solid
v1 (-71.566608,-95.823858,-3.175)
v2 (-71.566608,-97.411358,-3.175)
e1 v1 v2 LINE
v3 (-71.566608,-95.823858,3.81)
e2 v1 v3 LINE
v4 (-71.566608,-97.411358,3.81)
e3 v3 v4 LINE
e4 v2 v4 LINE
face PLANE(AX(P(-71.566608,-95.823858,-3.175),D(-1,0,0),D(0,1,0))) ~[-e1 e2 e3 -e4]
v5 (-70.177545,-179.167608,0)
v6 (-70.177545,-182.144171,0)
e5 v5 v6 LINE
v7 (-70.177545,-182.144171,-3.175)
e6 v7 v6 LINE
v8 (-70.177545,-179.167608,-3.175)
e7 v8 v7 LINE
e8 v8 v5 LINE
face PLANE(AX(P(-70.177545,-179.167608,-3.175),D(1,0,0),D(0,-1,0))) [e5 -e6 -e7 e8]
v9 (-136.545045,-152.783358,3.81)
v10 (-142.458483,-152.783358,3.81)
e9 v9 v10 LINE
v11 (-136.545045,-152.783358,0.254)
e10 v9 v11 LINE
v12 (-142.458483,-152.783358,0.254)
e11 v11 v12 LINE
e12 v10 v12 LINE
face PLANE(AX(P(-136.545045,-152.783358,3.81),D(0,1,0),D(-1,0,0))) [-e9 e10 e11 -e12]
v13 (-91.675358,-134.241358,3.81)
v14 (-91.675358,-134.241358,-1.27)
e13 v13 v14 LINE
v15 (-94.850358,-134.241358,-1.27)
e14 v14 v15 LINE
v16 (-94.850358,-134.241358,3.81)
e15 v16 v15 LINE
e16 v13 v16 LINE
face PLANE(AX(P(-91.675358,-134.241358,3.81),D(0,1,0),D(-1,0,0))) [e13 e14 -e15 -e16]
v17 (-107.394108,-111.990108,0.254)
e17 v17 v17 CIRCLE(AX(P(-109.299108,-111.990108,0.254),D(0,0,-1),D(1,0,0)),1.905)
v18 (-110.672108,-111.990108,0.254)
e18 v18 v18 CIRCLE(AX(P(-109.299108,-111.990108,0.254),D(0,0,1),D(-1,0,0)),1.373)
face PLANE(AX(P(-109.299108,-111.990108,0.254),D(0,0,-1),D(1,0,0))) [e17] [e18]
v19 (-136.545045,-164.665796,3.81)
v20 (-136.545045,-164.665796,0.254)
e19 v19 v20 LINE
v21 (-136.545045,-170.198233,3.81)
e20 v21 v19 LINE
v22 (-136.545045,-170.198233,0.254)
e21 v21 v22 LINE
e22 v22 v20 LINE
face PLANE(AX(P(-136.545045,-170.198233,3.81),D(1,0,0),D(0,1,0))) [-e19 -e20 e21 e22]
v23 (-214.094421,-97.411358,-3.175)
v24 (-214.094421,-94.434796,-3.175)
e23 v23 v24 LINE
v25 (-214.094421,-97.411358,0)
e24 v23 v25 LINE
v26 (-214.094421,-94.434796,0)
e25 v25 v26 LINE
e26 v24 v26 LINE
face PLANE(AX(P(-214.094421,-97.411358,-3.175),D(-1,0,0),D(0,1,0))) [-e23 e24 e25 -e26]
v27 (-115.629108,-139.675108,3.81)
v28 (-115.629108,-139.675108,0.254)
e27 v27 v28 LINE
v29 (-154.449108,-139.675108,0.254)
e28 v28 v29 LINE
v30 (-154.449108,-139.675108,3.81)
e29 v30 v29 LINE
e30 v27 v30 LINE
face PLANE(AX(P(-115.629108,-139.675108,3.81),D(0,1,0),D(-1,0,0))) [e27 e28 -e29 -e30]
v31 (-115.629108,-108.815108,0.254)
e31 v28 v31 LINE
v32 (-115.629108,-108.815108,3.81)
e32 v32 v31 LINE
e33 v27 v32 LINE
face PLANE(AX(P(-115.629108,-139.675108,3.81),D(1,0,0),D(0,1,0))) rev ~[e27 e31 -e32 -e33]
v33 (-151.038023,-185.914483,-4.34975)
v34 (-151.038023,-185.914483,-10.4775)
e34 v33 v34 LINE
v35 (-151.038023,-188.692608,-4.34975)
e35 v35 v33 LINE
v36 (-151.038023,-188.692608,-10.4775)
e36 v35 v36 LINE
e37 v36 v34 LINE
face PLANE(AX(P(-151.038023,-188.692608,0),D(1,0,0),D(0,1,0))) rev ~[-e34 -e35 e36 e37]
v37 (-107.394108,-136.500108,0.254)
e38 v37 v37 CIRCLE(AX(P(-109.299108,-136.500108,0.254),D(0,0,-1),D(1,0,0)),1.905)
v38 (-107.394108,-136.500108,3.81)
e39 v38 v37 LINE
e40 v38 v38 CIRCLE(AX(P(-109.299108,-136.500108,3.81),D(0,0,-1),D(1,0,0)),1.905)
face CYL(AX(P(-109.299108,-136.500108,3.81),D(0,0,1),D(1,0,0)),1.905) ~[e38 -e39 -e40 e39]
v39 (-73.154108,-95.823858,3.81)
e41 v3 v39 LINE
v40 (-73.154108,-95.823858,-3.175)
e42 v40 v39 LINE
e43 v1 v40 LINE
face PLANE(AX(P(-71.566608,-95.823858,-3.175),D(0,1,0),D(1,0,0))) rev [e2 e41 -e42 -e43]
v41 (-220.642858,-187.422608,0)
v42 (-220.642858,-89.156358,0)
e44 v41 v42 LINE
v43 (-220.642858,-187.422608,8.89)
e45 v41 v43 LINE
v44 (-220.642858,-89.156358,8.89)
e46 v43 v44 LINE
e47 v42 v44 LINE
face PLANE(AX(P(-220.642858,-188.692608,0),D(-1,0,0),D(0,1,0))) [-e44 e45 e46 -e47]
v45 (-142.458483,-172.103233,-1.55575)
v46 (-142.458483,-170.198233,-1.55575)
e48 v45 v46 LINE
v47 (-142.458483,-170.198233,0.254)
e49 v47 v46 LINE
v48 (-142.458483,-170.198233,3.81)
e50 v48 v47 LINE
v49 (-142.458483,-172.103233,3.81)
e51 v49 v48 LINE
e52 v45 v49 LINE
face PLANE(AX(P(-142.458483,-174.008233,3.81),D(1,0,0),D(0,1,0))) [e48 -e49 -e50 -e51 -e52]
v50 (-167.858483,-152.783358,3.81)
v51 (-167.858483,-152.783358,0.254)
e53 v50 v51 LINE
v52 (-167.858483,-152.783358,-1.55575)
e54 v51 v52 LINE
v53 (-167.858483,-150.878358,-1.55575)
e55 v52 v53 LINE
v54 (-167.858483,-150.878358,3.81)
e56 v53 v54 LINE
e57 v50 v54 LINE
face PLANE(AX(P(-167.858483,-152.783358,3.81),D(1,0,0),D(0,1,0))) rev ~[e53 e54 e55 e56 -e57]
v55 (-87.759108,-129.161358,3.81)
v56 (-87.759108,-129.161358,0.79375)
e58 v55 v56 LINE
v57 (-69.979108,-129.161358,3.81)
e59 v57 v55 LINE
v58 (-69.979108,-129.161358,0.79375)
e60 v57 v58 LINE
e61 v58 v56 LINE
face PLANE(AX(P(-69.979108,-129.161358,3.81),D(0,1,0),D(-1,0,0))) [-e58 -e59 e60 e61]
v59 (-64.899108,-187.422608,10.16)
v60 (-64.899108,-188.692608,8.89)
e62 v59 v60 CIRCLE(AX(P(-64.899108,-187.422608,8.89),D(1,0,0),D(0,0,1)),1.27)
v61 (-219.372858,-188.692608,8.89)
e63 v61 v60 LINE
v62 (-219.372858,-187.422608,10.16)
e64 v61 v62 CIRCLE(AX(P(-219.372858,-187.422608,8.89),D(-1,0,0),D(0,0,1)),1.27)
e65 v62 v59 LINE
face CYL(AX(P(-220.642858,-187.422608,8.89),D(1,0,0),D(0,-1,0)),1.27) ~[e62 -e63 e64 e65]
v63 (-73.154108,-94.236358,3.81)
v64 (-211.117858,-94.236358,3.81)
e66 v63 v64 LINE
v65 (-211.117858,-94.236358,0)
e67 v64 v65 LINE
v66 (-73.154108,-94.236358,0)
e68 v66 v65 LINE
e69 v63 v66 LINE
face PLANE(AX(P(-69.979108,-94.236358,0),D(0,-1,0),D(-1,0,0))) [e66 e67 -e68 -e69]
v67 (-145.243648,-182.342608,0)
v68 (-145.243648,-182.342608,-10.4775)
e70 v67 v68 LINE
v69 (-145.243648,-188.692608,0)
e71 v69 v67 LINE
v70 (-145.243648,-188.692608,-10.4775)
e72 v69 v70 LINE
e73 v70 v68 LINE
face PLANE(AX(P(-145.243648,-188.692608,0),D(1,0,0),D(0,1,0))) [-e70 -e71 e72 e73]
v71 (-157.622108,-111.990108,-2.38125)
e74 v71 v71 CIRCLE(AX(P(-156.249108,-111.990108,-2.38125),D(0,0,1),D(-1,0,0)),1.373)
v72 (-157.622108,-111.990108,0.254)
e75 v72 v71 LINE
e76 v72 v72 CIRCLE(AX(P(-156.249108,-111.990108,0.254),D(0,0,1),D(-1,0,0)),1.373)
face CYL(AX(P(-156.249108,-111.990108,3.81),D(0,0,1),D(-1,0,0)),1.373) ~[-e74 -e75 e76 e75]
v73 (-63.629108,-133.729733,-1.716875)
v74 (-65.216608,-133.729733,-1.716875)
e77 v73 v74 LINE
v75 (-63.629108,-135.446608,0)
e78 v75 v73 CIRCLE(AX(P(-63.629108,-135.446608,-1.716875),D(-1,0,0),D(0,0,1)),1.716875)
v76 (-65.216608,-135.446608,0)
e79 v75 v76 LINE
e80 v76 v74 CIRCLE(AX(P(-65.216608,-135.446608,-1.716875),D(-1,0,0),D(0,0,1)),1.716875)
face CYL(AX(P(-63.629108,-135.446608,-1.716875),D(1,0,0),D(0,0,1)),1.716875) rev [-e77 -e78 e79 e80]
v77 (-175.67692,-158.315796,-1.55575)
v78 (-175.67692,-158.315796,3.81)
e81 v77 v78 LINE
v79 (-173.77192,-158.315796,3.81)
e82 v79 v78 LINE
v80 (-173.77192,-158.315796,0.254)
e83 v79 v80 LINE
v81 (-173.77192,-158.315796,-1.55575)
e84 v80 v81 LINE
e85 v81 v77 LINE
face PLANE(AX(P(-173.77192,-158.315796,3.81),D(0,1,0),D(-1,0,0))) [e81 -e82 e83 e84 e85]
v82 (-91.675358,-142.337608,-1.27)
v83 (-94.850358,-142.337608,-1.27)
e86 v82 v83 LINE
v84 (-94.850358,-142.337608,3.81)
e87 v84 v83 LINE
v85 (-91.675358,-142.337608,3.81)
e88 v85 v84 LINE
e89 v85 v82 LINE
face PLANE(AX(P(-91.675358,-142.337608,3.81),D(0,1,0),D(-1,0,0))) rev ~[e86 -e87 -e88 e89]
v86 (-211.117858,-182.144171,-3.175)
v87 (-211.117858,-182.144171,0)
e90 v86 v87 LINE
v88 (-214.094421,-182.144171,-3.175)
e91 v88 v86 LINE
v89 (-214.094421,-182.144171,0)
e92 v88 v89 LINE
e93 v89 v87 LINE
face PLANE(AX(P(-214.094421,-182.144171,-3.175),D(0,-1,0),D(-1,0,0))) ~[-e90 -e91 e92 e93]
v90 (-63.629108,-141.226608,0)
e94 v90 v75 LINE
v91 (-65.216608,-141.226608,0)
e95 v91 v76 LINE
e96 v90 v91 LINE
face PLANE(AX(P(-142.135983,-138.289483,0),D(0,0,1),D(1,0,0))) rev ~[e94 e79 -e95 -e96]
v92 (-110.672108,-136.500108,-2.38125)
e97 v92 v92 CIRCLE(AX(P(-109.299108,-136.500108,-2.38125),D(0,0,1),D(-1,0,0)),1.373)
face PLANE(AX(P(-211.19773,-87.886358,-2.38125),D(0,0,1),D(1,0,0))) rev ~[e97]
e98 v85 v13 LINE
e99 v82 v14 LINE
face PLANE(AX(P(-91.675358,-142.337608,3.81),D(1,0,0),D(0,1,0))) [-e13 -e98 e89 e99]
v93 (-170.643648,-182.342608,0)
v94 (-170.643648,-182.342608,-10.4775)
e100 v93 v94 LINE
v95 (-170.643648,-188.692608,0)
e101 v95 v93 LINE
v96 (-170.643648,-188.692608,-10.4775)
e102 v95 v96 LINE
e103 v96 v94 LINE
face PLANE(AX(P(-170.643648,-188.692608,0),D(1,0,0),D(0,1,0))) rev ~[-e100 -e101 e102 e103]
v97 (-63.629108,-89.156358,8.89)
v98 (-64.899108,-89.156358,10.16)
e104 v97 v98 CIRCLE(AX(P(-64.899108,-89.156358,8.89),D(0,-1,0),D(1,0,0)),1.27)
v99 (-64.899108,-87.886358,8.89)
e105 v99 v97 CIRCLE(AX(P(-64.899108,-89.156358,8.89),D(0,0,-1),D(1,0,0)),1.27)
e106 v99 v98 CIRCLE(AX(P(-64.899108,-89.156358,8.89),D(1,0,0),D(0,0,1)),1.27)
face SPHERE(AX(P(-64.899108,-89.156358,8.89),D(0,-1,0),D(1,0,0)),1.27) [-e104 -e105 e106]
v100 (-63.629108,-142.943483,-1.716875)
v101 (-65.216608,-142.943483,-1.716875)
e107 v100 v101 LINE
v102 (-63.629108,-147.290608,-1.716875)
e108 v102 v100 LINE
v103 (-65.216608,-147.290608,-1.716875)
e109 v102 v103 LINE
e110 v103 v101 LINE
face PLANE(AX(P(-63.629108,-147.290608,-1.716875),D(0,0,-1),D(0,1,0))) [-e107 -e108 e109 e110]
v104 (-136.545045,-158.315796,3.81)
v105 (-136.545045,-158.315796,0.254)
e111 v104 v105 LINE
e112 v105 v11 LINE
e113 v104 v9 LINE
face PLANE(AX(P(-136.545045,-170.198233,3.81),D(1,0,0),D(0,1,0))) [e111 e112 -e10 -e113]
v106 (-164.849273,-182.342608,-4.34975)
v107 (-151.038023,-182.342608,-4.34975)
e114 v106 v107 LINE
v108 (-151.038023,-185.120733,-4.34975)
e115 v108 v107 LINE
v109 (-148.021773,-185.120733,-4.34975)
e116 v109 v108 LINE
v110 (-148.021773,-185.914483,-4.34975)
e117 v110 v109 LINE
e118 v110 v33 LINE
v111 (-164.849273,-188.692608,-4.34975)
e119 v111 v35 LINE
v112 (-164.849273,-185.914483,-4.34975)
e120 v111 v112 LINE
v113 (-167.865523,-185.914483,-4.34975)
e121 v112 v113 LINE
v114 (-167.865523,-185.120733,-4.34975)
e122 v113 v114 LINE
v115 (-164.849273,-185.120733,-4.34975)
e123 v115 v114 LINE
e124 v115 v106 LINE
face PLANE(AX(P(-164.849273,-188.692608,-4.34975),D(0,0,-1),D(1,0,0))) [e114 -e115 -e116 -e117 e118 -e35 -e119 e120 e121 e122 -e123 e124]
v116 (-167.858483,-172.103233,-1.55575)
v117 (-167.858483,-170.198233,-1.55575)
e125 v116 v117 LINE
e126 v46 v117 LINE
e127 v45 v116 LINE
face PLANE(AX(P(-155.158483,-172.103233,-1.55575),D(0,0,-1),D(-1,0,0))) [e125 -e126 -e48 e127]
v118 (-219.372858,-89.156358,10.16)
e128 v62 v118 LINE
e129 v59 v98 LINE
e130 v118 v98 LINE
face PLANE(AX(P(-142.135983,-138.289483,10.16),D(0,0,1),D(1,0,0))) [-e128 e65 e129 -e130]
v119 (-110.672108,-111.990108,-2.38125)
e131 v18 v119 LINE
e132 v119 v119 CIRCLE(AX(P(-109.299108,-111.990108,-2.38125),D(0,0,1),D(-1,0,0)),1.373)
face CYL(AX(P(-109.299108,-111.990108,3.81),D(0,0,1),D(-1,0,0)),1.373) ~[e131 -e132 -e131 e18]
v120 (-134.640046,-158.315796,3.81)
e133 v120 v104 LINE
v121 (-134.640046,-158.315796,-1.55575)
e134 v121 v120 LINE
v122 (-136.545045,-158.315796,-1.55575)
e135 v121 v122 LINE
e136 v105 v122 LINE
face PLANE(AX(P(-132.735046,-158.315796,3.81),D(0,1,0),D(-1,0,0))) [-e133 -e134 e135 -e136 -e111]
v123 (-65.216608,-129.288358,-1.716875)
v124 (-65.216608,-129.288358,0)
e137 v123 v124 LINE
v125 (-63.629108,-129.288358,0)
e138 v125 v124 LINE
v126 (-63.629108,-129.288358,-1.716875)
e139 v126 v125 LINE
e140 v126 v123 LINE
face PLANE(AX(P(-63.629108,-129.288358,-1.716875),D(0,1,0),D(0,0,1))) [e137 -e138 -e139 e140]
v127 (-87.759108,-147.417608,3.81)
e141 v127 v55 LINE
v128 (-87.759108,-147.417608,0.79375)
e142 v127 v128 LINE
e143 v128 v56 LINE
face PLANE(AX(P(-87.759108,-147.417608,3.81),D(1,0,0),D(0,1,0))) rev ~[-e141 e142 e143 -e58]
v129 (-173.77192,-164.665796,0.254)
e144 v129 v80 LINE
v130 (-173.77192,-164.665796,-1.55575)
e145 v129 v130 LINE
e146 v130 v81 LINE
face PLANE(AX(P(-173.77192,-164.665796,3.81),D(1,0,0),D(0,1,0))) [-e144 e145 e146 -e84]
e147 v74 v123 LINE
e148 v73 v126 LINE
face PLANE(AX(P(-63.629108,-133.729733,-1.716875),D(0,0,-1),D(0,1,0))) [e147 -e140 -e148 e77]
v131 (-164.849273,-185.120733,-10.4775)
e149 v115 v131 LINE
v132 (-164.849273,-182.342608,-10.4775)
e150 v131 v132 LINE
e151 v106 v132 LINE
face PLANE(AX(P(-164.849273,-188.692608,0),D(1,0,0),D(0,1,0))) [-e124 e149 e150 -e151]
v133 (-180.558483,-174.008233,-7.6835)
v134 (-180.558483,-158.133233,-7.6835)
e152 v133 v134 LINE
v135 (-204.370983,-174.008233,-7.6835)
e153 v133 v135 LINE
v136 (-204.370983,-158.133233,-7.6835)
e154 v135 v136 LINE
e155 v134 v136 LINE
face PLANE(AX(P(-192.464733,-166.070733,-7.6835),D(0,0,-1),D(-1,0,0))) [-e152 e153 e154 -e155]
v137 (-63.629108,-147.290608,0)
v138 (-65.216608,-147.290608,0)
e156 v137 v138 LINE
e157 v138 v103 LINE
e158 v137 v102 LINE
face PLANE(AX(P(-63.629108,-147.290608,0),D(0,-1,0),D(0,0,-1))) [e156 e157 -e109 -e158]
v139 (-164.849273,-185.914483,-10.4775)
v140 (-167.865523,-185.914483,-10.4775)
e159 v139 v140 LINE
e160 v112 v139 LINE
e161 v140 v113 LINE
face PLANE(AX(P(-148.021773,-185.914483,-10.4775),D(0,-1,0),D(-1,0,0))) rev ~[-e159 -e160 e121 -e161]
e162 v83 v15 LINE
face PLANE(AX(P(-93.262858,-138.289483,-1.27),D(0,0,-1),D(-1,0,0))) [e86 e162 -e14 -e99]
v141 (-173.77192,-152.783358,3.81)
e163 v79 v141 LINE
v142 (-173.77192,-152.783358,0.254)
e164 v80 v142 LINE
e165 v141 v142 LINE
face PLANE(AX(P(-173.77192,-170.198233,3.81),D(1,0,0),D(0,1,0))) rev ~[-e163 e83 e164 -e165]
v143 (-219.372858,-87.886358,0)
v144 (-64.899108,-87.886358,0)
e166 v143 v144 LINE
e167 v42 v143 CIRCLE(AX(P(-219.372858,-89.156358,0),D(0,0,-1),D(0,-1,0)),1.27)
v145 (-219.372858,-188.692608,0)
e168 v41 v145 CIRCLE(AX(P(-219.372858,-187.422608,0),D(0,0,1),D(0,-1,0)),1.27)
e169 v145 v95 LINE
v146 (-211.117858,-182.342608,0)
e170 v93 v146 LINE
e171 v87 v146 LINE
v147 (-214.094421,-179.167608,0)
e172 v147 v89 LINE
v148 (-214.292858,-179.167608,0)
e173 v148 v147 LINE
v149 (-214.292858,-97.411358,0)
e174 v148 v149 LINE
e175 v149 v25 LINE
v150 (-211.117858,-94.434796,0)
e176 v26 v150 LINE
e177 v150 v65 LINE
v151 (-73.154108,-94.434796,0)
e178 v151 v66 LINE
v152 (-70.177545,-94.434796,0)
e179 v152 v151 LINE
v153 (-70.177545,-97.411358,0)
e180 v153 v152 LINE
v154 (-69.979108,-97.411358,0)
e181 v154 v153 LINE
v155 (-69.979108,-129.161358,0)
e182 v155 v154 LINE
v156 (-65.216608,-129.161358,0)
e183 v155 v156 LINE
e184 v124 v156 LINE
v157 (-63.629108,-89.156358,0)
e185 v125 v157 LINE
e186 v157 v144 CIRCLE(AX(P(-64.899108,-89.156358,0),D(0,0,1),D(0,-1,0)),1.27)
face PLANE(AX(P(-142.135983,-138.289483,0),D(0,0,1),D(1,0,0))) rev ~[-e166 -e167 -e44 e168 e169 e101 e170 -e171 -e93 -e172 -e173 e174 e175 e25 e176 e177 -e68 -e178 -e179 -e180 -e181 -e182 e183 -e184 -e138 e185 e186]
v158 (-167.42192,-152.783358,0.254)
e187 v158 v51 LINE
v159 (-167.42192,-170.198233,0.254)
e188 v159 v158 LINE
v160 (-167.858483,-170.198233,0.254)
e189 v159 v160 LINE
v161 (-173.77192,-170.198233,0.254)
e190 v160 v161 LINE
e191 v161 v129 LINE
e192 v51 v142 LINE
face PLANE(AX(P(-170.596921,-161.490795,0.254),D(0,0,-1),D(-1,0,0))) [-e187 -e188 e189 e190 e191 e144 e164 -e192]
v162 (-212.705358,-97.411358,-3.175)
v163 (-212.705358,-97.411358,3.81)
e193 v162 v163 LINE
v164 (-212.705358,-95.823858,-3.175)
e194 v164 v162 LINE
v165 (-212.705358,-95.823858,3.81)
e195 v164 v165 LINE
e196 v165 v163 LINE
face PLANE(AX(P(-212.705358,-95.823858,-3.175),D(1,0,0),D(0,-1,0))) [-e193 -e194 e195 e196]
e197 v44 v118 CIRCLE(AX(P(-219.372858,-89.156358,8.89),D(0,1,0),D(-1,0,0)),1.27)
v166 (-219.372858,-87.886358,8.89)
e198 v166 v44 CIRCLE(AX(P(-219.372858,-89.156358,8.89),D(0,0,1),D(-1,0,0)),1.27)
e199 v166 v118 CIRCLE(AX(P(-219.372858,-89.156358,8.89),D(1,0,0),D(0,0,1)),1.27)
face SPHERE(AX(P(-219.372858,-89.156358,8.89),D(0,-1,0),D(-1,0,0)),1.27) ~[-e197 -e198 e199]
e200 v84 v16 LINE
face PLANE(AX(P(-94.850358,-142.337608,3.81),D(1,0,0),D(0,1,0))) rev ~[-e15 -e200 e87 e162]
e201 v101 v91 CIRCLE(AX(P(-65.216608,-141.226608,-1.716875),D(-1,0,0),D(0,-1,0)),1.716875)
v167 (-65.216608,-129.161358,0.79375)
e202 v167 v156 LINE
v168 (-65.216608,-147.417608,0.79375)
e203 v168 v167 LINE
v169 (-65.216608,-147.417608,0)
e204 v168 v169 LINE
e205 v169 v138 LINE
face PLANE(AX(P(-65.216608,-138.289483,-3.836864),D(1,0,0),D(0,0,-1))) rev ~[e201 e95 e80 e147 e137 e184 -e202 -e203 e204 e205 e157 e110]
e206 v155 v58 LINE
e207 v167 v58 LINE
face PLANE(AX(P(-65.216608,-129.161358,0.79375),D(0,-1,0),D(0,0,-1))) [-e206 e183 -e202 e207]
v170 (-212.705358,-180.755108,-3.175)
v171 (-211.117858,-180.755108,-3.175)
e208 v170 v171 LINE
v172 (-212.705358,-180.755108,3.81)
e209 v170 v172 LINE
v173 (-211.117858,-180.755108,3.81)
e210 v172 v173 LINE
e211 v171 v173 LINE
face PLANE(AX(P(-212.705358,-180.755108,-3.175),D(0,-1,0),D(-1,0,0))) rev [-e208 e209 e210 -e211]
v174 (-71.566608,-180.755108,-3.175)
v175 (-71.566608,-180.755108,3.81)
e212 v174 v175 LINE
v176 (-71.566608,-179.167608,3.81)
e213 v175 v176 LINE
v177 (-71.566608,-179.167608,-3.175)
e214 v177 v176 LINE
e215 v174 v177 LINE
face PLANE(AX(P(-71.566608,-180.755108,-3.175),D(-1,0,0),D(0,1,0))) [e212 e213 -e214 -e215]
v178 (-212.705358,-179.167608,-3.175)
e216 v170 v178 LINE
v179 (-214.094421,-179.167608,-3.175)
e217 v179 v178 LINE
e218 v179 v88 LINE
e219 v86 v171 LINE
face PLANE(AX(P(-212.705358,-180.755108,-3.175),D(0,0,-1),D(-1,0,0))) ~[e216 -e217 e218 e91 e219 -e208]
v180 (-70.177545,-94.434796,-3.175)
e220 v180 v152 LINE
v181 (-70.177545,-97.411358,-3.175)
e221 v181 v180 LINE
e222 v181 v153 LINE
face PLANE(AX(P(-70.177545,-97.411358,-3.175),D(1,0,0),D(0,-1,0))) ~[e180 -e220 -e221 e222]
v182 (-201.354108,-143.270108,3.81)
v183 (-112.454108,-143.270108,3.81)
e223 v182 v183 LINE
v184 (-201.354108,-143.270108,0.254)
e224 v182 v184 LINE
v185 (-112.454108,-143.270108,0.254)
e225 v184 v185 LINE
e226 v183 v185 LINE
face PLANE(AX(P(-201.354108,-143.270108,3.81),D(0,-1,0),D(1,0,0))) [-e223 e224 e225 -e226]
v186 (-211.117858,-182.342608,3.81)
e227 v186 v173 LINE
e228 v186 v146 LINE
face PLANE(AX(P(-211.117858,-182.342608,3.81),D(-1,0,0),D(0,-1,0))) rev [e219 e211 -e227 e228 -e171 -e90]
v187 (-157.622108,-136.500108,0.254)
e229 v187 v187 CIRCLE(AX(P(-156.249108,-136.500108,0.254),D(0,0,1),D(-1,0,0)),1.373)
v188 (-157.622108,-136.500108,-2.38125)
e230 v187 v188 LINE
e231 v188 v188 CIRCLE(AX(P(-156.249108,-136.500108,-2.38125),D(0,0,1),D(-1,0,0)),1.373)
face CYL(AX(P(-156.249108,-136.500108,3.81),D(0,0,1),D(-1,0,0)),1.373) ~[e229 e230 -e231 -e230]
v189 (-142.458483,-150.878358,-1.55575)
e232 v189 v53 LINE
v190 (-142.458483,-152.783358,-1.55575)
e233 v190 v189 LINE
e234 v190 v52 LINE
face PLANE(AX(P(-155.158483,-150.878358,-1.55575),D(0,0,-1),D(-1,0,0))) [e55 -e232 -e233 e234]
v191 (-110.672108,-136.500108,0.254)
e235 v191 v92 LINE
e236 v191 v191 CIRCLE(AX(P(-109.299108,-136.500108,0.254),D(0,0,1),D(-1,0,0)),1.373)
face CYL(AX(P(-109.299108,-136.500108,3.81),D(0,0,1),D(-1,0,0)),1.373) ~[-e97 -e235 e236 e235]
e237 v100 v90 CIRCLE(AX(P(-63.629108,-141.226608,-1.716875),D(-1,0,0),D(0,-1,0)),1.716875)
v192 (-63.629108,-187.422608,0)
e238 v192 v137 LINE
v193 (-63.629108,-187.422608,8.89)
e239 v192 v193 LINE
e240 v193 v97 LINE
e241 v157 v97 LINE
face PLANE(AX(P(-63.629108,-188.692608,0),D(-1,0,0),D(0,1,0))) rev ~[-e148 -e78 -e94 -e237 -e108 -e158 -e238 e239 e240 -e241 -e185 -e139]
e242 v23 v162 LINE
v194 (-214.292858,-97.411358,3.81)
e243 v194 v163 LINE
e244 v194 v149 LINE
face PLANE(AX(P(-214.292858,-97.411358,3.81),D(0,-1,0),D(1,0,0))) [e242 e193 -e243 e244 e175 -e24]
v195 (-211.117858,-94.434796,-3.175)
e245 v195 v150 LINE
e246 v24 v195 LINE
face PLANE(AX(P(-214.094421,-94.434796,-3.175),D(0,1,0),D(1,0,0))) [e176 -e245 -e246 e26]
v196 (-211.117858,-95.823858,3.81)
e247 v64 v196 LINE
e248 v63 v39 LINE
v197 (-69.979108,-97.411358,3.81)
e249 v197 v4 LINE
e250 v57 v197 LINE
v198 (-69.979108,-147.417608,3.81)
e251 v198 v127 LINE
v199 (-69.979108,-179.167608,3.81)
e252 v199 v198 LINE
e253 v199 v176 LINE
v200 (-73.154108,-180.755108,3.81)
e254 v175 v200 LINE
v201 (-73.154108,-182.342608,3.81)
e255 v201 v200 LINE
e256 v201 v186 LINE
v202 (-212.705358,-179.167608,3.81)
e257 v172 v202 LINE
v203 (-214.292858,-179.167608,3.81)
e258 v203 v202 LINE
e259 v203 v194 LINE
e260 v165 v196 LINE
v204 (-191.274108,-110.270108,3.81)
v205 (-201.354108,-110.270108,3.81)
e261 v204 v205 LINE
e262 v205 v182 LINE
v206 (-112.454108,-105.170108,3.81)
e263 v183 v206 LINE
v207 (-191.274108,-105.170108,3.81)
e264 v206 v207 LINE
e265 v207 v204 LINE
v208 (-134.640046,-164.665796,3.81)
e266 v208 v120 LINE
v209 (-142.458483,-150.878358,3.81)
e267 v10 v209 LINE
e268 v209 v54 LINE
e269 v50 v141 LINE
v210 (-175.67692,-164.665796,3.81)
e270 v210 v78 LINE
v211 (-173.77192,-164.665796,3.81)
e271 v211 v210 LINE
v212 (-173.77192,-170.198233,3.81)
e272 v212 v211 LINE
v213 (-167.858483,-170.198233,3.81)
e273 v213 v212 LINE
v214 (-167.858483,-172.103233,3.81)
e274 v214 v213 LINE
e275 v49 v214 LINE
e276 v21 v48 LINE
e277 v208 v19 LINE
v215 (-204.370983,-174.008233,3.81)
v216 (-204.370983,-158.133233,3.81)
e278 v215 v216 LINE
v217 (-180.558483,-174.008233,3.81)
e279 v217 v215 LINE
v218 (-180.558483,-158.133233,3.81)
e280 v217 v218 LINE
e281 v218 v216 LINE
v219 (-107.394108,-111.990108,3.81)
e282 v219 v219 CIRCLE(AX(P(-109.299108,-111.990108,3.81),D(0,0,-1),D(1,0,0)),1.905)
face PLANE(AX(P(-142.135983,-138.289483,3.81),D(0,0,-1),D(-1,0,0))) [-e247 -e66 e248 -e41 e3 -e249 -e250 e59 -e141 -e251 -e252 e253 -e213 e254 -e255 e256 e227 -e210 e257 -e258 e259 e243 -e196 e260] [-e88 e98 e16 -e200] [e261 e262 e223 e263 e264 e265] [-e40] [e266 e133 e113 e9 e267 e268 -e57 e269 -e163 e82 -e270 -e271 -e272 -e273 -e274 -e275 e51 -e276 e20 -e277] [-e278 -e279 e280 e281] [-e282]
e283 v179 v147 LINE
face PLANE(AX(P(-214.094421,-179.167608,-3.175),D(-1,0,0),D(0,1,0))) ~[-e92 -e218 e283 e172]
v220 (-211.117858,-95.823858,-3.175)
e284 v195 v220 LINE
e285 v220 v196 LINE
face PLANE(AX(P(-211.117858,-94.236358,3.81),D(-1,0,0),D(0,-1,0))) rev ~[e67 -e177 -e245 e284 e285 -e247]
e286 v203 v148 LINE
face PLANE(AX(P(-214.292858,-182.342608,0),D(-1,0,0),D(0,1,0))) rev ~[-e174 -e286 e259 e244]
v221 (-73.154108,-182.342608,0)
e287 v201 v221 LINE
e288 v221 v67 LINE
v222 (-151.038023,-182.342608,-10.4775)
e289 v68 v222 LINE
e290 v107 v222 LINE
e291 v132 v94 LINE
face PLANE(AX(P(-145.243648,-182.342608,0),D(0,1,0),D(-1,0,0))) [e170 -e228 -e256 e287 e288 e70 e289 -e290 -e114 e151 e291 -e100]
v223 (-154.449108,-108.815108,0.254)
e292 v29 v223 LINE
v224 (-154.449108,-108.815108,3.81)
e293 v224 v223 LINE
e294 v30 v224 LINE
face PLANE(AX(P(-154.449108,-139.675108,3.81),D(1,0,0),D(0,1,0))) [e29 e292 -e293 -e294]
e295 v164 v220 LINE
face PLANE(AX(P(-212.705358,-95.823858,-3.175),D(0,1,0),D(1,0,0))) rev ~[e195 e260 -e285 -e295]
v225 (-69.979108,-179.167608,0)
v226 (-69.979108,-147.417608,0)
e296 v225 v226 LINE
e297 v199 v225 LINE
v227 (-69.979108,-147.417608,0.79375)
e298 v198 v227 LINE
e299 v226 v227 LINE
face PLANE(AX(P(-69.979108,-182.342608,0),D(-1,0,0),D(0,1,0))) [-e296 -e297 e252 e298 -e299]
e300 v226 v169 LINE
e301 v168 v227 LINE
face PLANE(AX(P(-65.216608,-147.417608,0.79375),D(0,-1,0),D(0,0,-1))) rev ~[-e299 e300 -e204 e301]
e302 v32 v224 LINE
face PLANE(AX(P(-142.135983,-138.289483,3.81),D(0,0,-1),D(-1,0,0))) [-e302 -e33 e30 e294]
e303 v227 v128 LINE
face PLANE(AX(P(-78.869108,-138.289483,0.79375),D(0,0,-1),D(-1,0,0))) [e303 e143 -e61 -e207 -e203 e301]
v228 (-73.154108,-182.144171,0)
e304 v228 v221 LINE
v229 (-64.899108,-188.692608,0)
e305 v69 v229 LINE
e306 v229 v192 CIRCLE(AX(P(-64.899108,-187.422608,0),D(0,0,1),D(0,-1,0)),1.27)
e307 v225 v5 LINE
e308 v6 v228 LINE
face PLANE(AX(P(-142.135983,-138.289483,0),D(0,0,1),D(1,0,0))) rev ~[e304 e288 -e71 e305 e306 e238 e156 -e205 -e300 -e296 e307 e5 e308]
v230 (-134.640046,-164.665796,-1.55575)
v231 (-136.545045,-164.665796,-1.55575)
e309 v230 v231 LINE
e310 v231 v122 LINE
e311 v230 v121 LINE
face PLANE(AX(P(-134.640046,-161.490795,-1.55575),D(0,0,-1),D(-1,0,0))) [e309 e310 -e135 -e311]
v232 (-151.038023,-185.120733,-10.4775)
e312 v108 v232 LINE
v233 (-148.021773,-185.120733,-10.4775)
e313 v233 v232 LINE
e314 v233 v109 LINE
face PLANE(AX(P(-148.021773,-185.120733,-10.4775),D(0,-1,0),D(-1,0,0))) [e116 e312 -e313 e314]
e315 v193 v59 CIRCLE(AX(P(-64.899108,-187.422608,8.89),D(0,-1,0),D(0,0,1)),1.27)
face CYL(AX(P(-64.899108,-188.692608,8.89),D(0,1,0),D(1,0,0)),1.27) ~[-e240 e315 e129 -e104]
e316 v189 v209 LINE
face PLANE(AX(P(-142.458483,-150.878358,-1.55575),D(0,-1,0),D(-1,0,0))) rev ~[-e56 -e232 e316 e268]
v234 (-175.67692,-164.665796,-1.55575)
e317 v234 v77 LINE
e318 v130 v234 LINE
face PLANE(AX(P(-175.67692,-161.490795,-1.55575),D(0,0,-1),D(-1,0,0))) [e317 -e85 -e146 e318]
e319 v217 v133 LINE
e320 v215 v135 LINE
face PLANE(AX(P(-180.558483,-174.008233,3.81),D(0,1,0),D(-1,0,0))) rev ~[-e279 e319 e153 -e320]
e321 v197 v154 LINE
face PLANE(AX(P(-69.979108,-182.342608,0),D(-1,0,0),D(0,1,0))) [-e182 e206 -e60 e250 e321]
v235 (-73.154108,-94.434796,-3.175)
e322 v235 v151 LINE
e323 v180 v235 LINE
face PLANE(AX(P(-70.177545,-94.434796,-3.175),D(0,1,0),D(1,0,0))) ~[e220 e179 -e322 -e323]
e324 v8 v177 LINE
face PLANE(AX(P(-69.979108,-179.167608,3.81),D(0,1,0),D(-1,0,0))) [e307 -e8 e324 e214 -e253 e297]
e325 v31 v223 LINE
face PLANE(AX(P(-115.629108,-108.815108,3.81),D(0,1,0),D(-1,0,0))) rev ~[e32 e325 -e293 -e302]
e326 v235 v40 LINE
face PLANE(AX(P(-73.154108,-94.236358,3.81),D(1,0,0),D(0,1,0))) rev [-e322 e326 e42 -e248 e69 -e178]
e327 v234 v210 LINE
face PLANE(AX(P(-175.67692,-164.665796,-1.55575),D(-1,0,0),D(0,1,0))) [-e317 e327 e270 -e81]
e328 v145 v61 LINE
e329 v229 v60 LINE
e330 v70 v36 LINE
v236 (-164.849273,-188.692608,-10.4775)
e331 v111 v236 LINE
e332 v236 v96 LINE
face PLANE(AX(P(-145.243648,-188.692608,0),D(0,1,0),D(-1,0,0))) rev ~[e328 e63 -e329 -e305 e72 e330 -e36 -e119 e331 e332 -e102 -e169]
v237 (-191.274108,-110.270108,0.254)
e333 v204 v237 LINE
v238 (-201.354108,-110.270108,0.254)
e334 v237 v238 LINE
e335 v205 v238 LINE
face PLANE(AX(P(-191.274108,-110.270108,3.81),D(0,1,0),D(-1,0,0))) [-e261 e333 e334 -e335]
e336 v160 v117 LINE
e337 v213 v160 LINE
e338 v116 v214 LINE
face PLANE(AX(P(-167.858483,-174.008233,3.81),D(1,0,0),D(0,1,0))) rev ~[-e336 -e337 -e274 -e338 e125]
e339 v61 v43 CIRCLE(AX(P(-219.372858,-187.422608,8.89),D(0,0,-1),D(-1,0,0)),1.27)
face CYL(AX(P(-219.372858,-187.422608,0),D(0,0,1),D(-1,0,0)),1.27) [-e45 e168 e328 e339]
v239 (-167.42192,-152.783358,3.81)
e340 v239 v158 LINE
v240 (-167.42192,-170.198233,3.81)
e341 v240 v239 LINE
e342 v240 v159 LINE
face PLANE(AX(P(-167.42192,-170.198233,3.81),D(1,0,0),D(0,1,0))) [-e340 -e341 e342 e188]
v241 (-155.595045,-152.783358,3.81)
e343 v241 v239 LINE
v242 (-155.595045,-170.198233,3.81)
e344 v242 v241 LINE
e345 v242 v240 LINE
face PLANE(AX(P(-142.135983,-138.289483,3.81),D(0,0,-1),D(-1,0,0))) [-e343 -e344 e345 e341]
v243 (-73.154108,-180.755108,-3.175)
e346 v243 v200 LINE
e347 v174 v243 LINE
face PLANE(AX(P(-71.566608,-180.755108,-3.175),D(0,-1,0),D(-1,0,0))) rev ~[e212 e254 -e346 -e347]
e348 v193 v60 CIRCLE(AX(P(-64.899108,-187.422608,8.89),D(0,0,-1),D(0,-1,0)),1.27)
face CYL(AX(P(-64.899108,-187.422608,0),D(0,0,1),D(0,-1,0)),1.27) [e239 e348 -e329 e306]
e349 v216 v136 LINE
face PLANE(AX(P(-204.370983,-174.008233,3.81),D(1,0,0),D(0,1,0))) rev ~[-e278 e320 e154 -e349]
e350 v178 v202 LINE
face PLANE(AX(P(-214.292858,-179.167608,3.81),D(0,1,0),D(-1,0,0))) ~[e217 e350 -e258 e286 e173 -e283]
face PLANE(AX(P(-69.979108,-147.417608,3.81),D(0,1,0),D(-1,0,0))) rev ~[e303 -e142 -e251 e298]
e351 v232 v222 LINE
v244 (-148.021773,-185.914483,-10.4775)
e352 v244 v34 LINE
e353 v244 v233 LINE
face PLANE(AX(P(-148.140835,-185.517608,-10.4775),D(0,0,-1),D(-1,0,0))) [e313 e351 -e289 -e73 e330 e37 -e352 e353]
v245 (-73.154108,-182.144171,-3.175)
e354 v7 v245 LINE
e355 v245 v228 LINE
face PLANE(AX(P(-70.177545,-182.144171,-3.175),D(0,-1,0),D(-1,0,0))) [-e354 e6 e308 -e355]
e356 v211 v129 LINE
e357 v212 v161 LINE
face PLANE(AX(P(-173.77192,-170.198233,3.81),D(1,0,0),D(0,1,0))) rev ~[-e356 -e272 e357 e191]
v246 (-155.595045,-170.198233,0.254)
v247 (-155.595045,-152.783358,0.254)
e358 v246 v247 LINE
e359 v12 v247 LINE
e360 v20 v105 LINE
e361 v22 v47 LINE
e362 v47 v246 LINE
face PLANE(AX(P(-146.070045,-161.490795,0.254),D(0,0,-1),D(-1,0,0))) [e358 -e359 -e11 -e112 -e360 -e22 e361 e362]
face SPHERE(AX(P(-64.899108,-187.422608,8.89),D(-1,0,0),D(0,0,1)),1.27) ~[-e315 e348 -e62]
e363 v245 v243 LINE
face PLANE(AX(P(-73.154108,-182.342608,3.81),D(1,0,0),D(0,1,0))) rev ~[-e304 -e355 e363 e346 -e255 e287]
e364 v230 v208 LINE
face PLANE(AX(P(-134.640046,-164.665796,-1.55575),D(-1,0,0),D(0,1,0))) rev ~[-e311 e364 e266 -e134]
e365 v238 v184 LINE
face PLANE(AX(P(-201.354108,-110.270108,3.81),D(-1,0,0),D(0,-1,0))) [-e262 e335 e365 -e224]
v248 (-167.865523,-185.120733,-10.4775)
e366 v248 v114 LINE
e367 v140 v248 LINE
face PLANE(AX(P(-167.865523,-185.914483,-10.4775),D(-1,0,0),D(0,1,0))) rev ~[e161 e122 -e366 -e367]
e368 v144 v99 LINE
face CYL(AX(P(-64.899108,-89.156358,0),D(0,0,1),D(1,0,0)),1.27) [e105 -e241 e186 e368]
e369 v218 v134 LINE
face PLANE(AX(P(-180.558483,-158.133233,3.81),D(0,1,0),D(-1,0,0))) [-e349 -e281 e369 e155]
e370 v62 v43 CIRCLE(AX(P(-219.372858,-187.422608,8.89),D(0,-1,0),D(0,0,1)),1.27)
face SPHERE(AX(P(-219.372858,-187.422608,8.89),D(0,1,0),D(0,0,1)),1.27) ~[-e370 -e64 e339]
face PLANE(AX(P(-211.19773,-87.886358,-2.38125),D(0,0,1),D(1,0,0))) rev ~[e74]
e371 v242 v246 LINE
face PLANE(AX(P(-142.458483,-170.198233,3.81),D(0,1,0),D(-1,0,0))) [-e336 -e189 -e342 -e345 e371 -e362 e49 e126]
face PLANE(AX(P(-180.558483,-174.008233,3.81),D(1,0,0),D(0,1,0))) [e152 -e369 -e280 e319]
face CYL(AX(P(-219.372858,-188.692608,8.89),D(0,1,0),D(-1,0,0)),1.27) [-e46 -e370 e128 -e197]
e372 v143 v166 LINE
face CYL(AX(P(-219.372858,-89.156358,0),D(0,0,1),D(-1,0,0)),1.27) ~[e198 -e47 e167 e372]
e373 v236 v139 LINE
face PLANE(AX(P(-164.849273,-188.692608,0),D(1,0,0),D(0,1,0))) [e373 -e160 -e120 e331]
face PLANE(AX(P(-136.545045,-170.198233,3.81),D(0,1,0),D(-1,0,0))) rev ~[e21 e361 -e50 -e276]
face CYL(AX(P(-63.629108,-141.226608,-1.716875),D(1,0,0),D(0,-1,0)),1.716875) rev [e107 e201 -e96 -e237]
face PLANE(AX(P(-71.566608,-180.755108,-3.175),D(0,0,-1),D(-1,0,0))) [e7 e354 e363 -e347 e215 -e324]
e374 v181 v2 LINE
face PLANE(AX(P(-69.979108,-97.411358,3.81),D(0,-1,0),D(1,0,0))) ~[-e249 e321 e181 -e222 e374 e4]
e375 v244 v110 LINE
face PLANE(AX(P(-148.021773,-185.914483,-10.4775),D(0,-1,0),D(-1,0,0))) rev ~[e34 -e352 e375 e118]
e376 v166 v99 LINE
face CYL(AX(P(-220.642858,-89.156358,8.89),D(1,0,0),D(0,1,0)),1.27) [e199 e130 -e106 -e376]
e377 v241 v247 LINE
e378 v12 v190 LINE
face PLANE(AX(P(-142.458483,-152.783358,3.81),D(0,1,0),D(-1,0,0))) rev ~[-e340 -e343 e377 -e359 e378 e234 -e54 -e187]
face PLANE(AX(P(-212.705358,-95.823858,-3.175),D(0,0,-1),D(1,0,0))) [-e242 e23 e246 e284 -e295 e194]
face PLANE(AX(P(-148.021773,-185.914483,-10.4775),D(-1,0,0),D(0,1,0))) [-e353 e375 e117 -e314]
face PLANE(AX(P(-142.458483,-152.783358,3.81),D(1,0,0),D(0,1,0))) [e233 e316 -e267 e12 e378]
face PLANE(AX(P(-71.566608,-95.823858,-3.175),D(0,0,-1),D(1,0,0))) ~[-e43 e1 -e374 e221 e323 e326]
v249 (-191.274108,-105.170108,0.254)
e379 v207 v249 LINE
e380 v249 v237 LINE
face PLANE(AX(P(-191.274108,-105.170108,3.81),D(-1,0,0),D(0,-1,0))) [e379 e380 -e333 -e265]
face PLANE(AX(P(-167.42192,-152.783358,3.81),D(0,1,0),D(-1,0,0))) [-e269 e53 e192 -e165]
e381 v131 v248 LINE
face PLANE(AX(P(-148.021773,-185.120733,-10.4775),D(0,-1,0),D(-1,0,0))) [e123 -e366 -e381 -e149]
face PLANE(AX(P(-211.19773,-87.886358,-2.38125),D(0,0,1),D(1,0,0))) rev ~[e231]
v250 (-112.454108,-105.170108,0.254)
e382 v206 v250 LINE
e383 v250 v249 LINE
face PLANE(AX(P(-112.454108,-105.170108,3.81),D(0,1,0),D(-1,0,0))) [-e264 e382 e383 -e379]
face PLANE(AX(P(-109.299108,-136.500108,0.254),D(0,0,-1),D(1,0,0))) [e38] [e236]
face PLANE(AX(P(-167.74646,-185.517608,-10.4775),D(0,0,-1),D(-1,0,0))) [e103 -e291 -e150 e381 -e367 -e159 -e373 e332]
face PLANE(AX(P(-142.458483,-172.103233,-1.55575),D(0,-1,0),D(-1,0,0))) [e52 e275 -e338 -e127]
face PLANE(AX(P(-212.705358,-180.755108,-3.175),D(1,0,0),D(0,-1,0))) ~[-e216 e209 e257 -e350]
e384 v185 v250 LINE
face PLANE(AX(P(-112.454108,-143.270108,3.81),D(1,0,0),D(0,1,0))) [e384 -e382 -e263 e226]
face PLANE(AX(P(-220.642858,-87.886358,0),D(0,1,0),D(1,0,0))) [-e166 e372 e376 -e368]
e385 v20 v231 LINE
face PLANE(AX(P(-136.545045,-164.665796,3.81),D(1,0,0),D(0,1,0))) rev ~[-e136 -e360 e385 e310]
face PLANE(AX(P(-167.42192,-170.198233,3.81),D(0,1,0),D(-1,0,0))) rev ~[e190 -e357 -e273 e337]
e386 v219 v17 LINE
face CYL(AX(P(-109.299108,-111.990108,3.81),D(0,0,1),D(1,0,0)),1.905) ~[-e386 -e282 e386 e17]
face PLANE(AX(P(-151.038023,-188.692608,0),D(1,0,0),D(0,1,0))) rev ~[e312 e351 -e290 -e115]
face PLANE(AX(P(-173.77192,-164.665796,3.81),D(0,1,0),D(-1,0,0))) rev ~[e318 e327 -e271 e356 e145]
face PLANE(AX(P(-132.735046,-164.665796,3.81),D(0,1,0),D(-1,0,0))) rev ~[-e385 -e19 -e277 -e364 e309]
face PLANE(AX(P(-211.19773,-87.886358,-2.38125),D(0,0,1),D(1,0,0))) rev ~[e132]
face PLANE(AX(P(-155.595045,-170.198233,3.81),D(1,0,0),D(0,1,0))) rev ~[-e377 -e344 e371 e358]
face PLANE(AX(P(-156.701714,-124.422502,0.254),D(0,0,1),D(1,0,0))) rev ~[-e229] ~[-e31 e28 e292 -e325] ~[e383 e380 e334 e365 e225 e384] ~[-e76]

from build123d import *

# Parameters (mm, degrees)
SKETCH1_W                                = 157.01375
SKETCH1_H                                = 100.80625
BOSS_EXTRUDE1_DEPTH                      = 10.16
SKETCH2_W                                = 144.31375
SKETCH2_H                                = 88.10625
CUT_EXTRUDE1_DEPTH                       = 3.81
SKETCH3_R                                = 1.373000048
BOSS_EXTRUDE2_DEPTH                      = 13.208
SKETCH4_R                                = 1.905
SKETCH4_W                                = 38.820000042
SKETCH4_H                                = 30.86
BOSS_EXTRUDE3_DEPTH                      = 3.556
SKETCH5_W                                = 140.45073311
SKETCH5_H                                = 20.997286457
CUT_EXTRUDE2_DEPTH                       = 61.722
SKETCH6_W                                = 3.175
SKETCH6_H                                = 3.175
BOSS_EXTRUDE4_DEPTH                      = 6.985
SKETCH7_W                                = 1.5875
SKETCH7_H                                = 1.5875
CUT_EXTRUDE3_DEPTH                       = 6.985
MIRROR2_COPY_1_SKETCH_W                  = 3.175
MIRROR2_COPY_1_SKETCH_H                  = 3.175
MIRROR2_COPY_1_DEPTH                     = 6.985
MIRROR2_COPY_2_SKETCH_W                  = 1.5875
MIRROR2_COPY_2_SKETCH_H                  = 1.5875
MIRROR2_COPY_2_DEPTH                     = 6.985
CUT_EXTRUDE4_DEPTH                       = 3.175
MIRROR3_AT_THE_SECOND_PLANE_COPY_1_DEPTH = 3.175
FILLET1_R                                = 1.27
SKETCH9_W                                = 23.8125
SKETCH9_H                                = 15.875
BOSS_EXTRUDE5_DEPTH                      = 11.4935
CUT_EXTRUDE5_START                       = -1.5875
SKETCH10_W                               = 9.261227228
SKETCH10_H                               = 18.25625
CUT_EXTRUDE5_DEPTH                       = 13.97
SKETCH12_W                               = 17.78
SKETCH12_H                               = 18.25625
BOSS_EXTRUDE6_DEPTH                      = 3.01625
SKETCH13_W                               = 3.175
SKETCH13_H                               = 8.09625
BOSS_EXTRUDE7_DEPTH                      = 5.08
BOSS_EXTRUDE9_DEPTH                      = 1.5875
SKETCH17_W                               = 25.4
SKETCH17_H                               = 3.81
SKETCH17_W_2                             = 3.81
SKETCH17_H_2                             = 6.35
BOSS_EXTRUDE10_DEPTH                     = 5.36575
SKETCH18_W                               = 19.05
SKETCH18_H                               = 17.414875
SKETCH18_W_2                             = 6.35
BOSS_EXTRUDE11_DEPTH                     = 3.556
SKETCH19_W                               = 13.81125
SKETCH19_H                               = 4.34975
BOSS_EXTRUDE12_DEPTH                     = 6.35
SKETCH21_W                               = 5.794375
SKETCH21_H                               = 6.35
BOSS_EXTRUDE13_DEPTH                     = 10.4775
SKETCH22_W                               = 19.84375
SKETCH22_H                               = 0.79375
CUT_EXTRUDE6_DEPTH                       = 6.12775
SKETCH23_W                               = 1.905
SKETCH23_H                               = 6.35
SKETCH23_W_2                             = 25.4
SKETCH23_H_2                             = 1.905
CUT_EXTRUDE7_DEPTH                       = 5.36575


with BuildPart() as part:
    # Sketch1 → Boss-Extrude1 (new body)
    with BuildSketch(Plane.XY):
        with Locations((-142.135983, -138.289483)):
            Rectangle(SKETCH1_W, SKETCH1_H)
    extrude(amount=BOSS_EXTRUDE1_DEPTH)

    # Sketch2 → Cut-Extrude1 (cut)
    with BuildSketch(Plane(origin=(0, 0, 0), x_dir=(-1, 0, 0), z_dir=(0, 0, -1))):
        with Locations((142.135983, -138.289483)):
            Rectangle(SKETCH2_W, SKETCH2_H)
    extrude(amount=-CUT_EXTRUDE1_DEPTH, mode=Mode.SUBTRACT)

    # Sketch3 → Boss-Extrude2 (add)
    with BuildSketch(Plane(origin=(0, 0, 3.81), x_dir=(-1, 0, 0), z_dir=(0, 0, -1))):
        with Locations((109.299108, -111.990108)):
            Circle(SKETCH3_R)
        with Locations((156.249108, -111.990108)):
            Circle(SKETCH3_R)
        with Locations((156.249108, -136.500108)):
            Circle(SKETCH3_R)
        with Locations((109.299108, -136.500108)):
            Circle(SKETCH3_R)
    extrude(amount=BOSS_EXTRUDE2_DEPTH)

    # Sketch4 → Boss-Extrude3 (add)
    # profile 1 of 3: a face of its own
    with BuildSketch(Plane(origin=(0, 0, 3.81), x_dir=(-1, 0, 0), z_dir=(0, 0, -1))):
        with Locations(Location((109.299108, -111.990108, 0), (0, 0, 180))):
            Circle(SKETCH4_R)
    # profile 2 of 3: a face of its own
    with BuildSketch(Plane(origin=(0, 0, 3.81), x_dir=(-1, 0, 0), z_dir=(0, 0, -1))):
        with Locations(Location((109.299108, -136.500108, 0), (0, 0, 180))):
            Circle(SKETCH4_R)
    # profile 3 of 3: a face of its own
    with BuildSketch(Plane(origin=(0, 0, 3.81), x_dir=(-1, 0, 0), z_dir=(0, 0, -1))):
        Polygon((112.454108, -105.170108), (191.274108, -105.170108), (191.274108, -110.270108), (201.354108, -110.270108), (201.354108, -143.270108), (112.454108, -143.270108), align=None)
        with Locations((135.039108021, -124.245108)):
            Rectangle(SKETCH4_W, SKETCH4_H, mode=Mode.SUBTRACT)
    extrude(amount=BOSS_EXTRUDE3_DEPTH)

    # Sketch5 → Cut-Extrude2 (cut)
    with BuildSketch(Plane(origin=(0, -87.886358, 0), x_dir=(1, 0, 0), z_dir=(0, 1, 0))):
        with Locations((-140.972363451, 12.879893229)):
            Rectangle(SKETCH5_W, SKETCH5_H)
    extrude(amount=-CUT_EXTRUDE2_DEPTH, mode=Mode.SUBTRACT)

    # Sketch6 → Boss-Extrude4 (add)
    with BuildSketch(Plane(origin=(0, 0, 3.81), x_dir=(-1, 0, 0), z_dir=(0, 0, -1))):
        with Locations((71.566608, -180.755108)):
            Rectangle(SKETCH6_W, SKETCH6_H)
    boss_extrude4 = extrude(amount=BOSS_EXTRUDE4_DEPTH)

    # Sketch7 → Cut-Extrude3 (cut)
    with BuildSketch(Plane(origin=(0, 0, -3.175), x_dir=(-1, 0, 0), z_dir=(0, 0, -1))):
        with Locations((72.360358, -179.961358)):
            Rectangle(SKETCH7_W, SKETCH7_H)
    cut_extrude3 = extrude(amount=-CUT_EXTRUDE3_DEPTH, mode=Mode.SUBTRACT)

    # Mirror1: Boss-Extrude4, Cut-Extrude3 across plane
    add(boss_extrude4.mirror(Plane(origin=(0, -138.289483, 0), x_dir=(0, 0, 1), z_dir=(0, -1, 0))))
    add(cut_extrude3.mirror(Plane(origin=(0, -138.289483, 0), x_dir=(0, 0, 1), z_dir=(0, -1, 0))), mode=Mode.SUBTRACT)

    # Mirror2: Boss-Extrude4, Cut-Extrude3 across plane
    add(boss_extrude4.mirror(Plane(origin=(-142.135983, 0, 0), x_dir=(0, 0, 1), z_dir=(1, 0, 0))))
    add(cut_extrude3.mirror(Plane(origin=(-142.135983, 0, 0), x_dir=(0, 0, 1), z_dir=(1, 0, 0))), mode=Mode.SUBTRACT)

    # Mirror2 copy 1 sketch → Mirror2 copy 1 (add)
    with BuildSketch(Plane(origin=(-284.271966, -276.578966, 3.81), x_dir=(1, 0, 0), z_dir=(0, 0, -1))):
        with Locations((71.566608, -180.755108)):
            Rectangle(MIRROR2_COPY_1_SKETCH_W, MIRROR2_COPY_1_SKETCH_H)
    extrude(amount=MIRROR2_COPY_1_DEPTH)

    # Mirror2 copy 2 sketch → Mirror2 copy 2 (cut)
    with BuildSketch(Plane(origin=(-284.271966, -276.578966, -3.175), x_dir=(1, 0, 0), z_dir=(0, 0, -1))):
        with Locations((72.360358, -179.961358)):
            Rectangle(MIRROR2_COPY_2_SKETCH_W, MIRROR2_COPY_2_SKETCH_H)
    extrude(amount=-MIRROR2_COPY_2_DEPTH, mode=Mode.SUBTRACT)

    # Sketch8 → Cut-Extrude4 (cut)
    with BuildSketch(Plane(origin=(0, 0, -3.175), x_dir=(-1, 0, 0), z_dir=(0, 0, -1))):
        Polygon((69.979108, -179.167608), (70.1775455, -179.167608), (70.1775455, -182.1441705), (73.154108, -182.1441705), (73.154108, -182.342608), (69.979108, -182.342608), align=None)
    cut_extrude4 = extrude(amount=-CUT_EXTRUDE4_DEPTH, mode=Mode.SUBTRACT)

    # Mirror3: Cut-Extrude4 across plane
    add(cut_extrude4.mirror(Plane(origin=(-142.135983, 0, 0), x_dir=(0, 0, 1), z_dir=(1, 0, 0))), mode=Mode.SUBTRACT)

    # Mirror3 at the second plane: Cut-Extrude4 across plane
    add(cut_extrude4.mirror(Plane(origin=(0, -138.289483, 0), x_dir=(0, 0, 1), z_dir=(0, -1, 0))), mode=Mode.SUBTRACT)

    # Mirror3 at the second plane copy 1 sketc → Mirror3 at the second plane copy 1 (cut)
    with BuildSketch(Plane(origin=(-284.271966, -276.578966, -3.175), x_dir=(1, 0, 0), z_dir=(0, 0, -1))):
        Polygon((69.979108, -179.167608), (70.1775455, -179.167608), (70.1775455, -182.1441705), (73.154108, -182.1441705), (73.154108, -182.342608), (69.979108, -182.342608), align=None)
    extrude(amount=-MIRROR3_AT_THE_SECOND_PLANE_COPY_1_DEPTH, mode=Mode.SUBTRACT)

    # Fillet1
    fillet1_edges = [part.edges().sort_by_distance(p)[0] for p in [
        (-220.642858, -138.289483, 10.16),
        (-142.135983, -188.692608, 10.16),
        (-63.629108, -138.289483, 10.16),
        (-63.629108, -188.692608, 5.08),
        (-220.642858, -188.692608, 5.08),
        (-220.642858, -87.886358, 5.08),
        (-63.629108, -87.886358, 5.08),
        (-142.135983, -87.886358, 10.16),
    ]]
    fillet(fillet1_edges, radius=FILLET1_R)

    # Sketch9 → Boss-Extrude5 (add)
    with BuildSketch(Plane(origin=(0, 0, 3.81), x_dir=(-1, 0, 0), z_dir=(0, 0, -1))):
        with Locations((192.464733, -166.070733)):
            Rectangle(SKETCH9_W, SKETCH9_H)
    extrude(amount=BOSS_EXTRUDE5_DEPTH)

    # Sketch10 → Cut-Extrude5 (cut)
    with BuildSketch(Plane(origin=(-63.629108, 0, 0), x_dir=(0, 0, -1), z_dir=(1, 0, 0)).offset(CUT_EXTRUDE5_START)):
        with Locations((3.836863614, -138.289483)):
            Rectangle(SKETCH10_W, SKETCH10_H)
    extrude(amount=-CUT_EXTRUDE5_DEPTH, mode=Mode.SUBTRACT)

    # Sketch12 → Boss-Extrude6 (add)
    with BuildSketch(Plane(origin=(0, 0, 3.81), x_dir=(-1, 0, 0), z_dir=(0, 0, -1))):
        with Locations((78.869108, -138.289483)):
            Rectangle(SKETCH12_W, SKETCH12_H)
    extrude(amount=BOSS_EXTRUDE6_DEPTH)

    # Sketch13 → Boss-Extrude7 (add)
    with BuildSketch(Plane(origin=(0, 0, 3.81), x_dir=(-1, 0, 0), z_dir=(0, 0, -1))):
        with Locations((93.262857978, -138.289483)):
            Rectangle(SKETCH13_W, SKETCH13_H)
    extrude(amount=BOSS_EXTRUDE7_DEPTH)

    # Sketch14 → Boss-Extrude9 (add)
    with BuildSketch(Plane(origin=(-63.629108, 0, 0), x_dir=(0, 0, -1), z_dir=(1, 0, 0))):
        with BuildLine():
            Line((0, -129.288357934), (0, -135.446608))
            ThreePointArc((0, -135.446608), (0.502861016, -134.232594116), (1.7168749, -133.7297331))
            Line((1.7168749, -133.7297331), (1.7168749, -129.288357934))
            Line((1.7168749, -129.288357934), (0, -129.288357934))
        make_face()
        with BuildLine():
            Line((0, -147.290608064), (1.7168749, -147.290608064))
            Line((1.7168749, -147.290608064), (1.7168749, -142.9434829))
            ThreePointArc((1.7168749, -142.9434829), (0.502861016, -142.440621884), (0, -141.226608))
            Line((0, -141.226608), (0, -147.290608064))
        make_face()
    extrude(amount=-BOSS_EXTRUDE9_DEPTH)

    # Sketch17 → Boss-Extrude10 (add)
    with BuildSketch(Plane(origin=(0, 0, 3.81), x_dir=(-1, 0, 0), z_dir=(0, 0, -1))):
        with Locations((155.158483, -172.103233)):
            Rectangle(SKETCH17_W, SKETCH17_H)
        with Locations((155.158483, -150.878358)):
            Rectangle(SKETCH17_W, SKETCH17_H)
        with Locations((175.6769205, -161.4907955)):
            Rectangle(SKETCH17_W_2, SKETCH17_H_2)
        with Locations((134.6400455, -161.4907955)):
            Rectangle(SKETCH17_W_2, SKETCH17_H_2)
    extrude(amount=BOSS_EXTRUDE10_DEPTH)

    # Sketch18 → Boss-Extrude11 (add)
    with BuildSketch(Plane(origin=(0, 0, 3.81), x_dir=(-1, 0, 0), z_dir=(0, 0, -1))):
        with Locations((146.0700455, -161.4907955)):
            Rectangle(SKETCH18_W, SKETCH18_H)
        with Locations((170.5969205, -161.4907955)):
            Rectangle(SKETCH18_W_2, SKETCH18_H)
    extrude(amount=BOSS_EXTRUDE11_DEPTH)

    # Sketch19 → Boss-Extrude12 (add)
    with BuildSketch(Plane.XZ.offset(188.692608)):
        with Locations((-157.943647906, -2.174875)):
            Rectangle(SKETCH19_W, SKETCH19_H)
    extrude(amount=-BOSS_EXTRUDE12_DEPTH)

    # Sketch21 → Boss-Extrude13 (add)
    with BuildSketch(Plane(origin=(0, 0, 0), x_dir=(-1, 0, 0), z_dir=(0, 0, -1))):
        with Locations((148.140835406, -185.517608)):
            Rectangle(SKETCH21_W, SKETCH21_H)
        with Locations((167.746460406, -185.517608)):
            Rectangle(SKETCH21_W, SKETCH21_H)
    extrude(amount=BOSS_EXTRUDE13_DEPTH)

    # Sketch22 → Cut-Extrude6 (cut)
    with BuildSketch(Plane(origin=(0, 0, -10.4775), x_dir=(-1, 0, 0), z_dir=(0, 0, -1))):
        with Locations((157.943647906, -185.517608)):
            Rectangle(SKETCH22_W, SKETCH22_H)
    extrude(amount=-CUT_EXTRUDE6_DEPTH, mode=Mode.SUBTRACT)

    # Sketch23 → Cut-Extrude7 (cut)
    with BuildSketch(Plane(origin=(0, 0, -1.55575), x_dir=(-1, 0, 0), z_dir=(0, 0, -1))):
        with Locations((133.6875455, -161.4907955)):
            Rectangle(SKETCH23_W, SKETCH23_H)
        with Locations((155.158483, -173.055733)):
            Rectangle(SKETCH23_W_2, SKETCH23_H_2)
        with Locations((176.6294205, -161.4907955)):
            Rectangle(SKETCH23_W, SKETCH23_H)
        with Locations((155.158483, -149.925858)):
            Rectangle(SKETCH23_W_2, SKETCH23_H_2)
    extrude(amount=-CUT_EXTRUDE7_DEPTH, mode=Mode.SUBTRACT)


solid = part.part
